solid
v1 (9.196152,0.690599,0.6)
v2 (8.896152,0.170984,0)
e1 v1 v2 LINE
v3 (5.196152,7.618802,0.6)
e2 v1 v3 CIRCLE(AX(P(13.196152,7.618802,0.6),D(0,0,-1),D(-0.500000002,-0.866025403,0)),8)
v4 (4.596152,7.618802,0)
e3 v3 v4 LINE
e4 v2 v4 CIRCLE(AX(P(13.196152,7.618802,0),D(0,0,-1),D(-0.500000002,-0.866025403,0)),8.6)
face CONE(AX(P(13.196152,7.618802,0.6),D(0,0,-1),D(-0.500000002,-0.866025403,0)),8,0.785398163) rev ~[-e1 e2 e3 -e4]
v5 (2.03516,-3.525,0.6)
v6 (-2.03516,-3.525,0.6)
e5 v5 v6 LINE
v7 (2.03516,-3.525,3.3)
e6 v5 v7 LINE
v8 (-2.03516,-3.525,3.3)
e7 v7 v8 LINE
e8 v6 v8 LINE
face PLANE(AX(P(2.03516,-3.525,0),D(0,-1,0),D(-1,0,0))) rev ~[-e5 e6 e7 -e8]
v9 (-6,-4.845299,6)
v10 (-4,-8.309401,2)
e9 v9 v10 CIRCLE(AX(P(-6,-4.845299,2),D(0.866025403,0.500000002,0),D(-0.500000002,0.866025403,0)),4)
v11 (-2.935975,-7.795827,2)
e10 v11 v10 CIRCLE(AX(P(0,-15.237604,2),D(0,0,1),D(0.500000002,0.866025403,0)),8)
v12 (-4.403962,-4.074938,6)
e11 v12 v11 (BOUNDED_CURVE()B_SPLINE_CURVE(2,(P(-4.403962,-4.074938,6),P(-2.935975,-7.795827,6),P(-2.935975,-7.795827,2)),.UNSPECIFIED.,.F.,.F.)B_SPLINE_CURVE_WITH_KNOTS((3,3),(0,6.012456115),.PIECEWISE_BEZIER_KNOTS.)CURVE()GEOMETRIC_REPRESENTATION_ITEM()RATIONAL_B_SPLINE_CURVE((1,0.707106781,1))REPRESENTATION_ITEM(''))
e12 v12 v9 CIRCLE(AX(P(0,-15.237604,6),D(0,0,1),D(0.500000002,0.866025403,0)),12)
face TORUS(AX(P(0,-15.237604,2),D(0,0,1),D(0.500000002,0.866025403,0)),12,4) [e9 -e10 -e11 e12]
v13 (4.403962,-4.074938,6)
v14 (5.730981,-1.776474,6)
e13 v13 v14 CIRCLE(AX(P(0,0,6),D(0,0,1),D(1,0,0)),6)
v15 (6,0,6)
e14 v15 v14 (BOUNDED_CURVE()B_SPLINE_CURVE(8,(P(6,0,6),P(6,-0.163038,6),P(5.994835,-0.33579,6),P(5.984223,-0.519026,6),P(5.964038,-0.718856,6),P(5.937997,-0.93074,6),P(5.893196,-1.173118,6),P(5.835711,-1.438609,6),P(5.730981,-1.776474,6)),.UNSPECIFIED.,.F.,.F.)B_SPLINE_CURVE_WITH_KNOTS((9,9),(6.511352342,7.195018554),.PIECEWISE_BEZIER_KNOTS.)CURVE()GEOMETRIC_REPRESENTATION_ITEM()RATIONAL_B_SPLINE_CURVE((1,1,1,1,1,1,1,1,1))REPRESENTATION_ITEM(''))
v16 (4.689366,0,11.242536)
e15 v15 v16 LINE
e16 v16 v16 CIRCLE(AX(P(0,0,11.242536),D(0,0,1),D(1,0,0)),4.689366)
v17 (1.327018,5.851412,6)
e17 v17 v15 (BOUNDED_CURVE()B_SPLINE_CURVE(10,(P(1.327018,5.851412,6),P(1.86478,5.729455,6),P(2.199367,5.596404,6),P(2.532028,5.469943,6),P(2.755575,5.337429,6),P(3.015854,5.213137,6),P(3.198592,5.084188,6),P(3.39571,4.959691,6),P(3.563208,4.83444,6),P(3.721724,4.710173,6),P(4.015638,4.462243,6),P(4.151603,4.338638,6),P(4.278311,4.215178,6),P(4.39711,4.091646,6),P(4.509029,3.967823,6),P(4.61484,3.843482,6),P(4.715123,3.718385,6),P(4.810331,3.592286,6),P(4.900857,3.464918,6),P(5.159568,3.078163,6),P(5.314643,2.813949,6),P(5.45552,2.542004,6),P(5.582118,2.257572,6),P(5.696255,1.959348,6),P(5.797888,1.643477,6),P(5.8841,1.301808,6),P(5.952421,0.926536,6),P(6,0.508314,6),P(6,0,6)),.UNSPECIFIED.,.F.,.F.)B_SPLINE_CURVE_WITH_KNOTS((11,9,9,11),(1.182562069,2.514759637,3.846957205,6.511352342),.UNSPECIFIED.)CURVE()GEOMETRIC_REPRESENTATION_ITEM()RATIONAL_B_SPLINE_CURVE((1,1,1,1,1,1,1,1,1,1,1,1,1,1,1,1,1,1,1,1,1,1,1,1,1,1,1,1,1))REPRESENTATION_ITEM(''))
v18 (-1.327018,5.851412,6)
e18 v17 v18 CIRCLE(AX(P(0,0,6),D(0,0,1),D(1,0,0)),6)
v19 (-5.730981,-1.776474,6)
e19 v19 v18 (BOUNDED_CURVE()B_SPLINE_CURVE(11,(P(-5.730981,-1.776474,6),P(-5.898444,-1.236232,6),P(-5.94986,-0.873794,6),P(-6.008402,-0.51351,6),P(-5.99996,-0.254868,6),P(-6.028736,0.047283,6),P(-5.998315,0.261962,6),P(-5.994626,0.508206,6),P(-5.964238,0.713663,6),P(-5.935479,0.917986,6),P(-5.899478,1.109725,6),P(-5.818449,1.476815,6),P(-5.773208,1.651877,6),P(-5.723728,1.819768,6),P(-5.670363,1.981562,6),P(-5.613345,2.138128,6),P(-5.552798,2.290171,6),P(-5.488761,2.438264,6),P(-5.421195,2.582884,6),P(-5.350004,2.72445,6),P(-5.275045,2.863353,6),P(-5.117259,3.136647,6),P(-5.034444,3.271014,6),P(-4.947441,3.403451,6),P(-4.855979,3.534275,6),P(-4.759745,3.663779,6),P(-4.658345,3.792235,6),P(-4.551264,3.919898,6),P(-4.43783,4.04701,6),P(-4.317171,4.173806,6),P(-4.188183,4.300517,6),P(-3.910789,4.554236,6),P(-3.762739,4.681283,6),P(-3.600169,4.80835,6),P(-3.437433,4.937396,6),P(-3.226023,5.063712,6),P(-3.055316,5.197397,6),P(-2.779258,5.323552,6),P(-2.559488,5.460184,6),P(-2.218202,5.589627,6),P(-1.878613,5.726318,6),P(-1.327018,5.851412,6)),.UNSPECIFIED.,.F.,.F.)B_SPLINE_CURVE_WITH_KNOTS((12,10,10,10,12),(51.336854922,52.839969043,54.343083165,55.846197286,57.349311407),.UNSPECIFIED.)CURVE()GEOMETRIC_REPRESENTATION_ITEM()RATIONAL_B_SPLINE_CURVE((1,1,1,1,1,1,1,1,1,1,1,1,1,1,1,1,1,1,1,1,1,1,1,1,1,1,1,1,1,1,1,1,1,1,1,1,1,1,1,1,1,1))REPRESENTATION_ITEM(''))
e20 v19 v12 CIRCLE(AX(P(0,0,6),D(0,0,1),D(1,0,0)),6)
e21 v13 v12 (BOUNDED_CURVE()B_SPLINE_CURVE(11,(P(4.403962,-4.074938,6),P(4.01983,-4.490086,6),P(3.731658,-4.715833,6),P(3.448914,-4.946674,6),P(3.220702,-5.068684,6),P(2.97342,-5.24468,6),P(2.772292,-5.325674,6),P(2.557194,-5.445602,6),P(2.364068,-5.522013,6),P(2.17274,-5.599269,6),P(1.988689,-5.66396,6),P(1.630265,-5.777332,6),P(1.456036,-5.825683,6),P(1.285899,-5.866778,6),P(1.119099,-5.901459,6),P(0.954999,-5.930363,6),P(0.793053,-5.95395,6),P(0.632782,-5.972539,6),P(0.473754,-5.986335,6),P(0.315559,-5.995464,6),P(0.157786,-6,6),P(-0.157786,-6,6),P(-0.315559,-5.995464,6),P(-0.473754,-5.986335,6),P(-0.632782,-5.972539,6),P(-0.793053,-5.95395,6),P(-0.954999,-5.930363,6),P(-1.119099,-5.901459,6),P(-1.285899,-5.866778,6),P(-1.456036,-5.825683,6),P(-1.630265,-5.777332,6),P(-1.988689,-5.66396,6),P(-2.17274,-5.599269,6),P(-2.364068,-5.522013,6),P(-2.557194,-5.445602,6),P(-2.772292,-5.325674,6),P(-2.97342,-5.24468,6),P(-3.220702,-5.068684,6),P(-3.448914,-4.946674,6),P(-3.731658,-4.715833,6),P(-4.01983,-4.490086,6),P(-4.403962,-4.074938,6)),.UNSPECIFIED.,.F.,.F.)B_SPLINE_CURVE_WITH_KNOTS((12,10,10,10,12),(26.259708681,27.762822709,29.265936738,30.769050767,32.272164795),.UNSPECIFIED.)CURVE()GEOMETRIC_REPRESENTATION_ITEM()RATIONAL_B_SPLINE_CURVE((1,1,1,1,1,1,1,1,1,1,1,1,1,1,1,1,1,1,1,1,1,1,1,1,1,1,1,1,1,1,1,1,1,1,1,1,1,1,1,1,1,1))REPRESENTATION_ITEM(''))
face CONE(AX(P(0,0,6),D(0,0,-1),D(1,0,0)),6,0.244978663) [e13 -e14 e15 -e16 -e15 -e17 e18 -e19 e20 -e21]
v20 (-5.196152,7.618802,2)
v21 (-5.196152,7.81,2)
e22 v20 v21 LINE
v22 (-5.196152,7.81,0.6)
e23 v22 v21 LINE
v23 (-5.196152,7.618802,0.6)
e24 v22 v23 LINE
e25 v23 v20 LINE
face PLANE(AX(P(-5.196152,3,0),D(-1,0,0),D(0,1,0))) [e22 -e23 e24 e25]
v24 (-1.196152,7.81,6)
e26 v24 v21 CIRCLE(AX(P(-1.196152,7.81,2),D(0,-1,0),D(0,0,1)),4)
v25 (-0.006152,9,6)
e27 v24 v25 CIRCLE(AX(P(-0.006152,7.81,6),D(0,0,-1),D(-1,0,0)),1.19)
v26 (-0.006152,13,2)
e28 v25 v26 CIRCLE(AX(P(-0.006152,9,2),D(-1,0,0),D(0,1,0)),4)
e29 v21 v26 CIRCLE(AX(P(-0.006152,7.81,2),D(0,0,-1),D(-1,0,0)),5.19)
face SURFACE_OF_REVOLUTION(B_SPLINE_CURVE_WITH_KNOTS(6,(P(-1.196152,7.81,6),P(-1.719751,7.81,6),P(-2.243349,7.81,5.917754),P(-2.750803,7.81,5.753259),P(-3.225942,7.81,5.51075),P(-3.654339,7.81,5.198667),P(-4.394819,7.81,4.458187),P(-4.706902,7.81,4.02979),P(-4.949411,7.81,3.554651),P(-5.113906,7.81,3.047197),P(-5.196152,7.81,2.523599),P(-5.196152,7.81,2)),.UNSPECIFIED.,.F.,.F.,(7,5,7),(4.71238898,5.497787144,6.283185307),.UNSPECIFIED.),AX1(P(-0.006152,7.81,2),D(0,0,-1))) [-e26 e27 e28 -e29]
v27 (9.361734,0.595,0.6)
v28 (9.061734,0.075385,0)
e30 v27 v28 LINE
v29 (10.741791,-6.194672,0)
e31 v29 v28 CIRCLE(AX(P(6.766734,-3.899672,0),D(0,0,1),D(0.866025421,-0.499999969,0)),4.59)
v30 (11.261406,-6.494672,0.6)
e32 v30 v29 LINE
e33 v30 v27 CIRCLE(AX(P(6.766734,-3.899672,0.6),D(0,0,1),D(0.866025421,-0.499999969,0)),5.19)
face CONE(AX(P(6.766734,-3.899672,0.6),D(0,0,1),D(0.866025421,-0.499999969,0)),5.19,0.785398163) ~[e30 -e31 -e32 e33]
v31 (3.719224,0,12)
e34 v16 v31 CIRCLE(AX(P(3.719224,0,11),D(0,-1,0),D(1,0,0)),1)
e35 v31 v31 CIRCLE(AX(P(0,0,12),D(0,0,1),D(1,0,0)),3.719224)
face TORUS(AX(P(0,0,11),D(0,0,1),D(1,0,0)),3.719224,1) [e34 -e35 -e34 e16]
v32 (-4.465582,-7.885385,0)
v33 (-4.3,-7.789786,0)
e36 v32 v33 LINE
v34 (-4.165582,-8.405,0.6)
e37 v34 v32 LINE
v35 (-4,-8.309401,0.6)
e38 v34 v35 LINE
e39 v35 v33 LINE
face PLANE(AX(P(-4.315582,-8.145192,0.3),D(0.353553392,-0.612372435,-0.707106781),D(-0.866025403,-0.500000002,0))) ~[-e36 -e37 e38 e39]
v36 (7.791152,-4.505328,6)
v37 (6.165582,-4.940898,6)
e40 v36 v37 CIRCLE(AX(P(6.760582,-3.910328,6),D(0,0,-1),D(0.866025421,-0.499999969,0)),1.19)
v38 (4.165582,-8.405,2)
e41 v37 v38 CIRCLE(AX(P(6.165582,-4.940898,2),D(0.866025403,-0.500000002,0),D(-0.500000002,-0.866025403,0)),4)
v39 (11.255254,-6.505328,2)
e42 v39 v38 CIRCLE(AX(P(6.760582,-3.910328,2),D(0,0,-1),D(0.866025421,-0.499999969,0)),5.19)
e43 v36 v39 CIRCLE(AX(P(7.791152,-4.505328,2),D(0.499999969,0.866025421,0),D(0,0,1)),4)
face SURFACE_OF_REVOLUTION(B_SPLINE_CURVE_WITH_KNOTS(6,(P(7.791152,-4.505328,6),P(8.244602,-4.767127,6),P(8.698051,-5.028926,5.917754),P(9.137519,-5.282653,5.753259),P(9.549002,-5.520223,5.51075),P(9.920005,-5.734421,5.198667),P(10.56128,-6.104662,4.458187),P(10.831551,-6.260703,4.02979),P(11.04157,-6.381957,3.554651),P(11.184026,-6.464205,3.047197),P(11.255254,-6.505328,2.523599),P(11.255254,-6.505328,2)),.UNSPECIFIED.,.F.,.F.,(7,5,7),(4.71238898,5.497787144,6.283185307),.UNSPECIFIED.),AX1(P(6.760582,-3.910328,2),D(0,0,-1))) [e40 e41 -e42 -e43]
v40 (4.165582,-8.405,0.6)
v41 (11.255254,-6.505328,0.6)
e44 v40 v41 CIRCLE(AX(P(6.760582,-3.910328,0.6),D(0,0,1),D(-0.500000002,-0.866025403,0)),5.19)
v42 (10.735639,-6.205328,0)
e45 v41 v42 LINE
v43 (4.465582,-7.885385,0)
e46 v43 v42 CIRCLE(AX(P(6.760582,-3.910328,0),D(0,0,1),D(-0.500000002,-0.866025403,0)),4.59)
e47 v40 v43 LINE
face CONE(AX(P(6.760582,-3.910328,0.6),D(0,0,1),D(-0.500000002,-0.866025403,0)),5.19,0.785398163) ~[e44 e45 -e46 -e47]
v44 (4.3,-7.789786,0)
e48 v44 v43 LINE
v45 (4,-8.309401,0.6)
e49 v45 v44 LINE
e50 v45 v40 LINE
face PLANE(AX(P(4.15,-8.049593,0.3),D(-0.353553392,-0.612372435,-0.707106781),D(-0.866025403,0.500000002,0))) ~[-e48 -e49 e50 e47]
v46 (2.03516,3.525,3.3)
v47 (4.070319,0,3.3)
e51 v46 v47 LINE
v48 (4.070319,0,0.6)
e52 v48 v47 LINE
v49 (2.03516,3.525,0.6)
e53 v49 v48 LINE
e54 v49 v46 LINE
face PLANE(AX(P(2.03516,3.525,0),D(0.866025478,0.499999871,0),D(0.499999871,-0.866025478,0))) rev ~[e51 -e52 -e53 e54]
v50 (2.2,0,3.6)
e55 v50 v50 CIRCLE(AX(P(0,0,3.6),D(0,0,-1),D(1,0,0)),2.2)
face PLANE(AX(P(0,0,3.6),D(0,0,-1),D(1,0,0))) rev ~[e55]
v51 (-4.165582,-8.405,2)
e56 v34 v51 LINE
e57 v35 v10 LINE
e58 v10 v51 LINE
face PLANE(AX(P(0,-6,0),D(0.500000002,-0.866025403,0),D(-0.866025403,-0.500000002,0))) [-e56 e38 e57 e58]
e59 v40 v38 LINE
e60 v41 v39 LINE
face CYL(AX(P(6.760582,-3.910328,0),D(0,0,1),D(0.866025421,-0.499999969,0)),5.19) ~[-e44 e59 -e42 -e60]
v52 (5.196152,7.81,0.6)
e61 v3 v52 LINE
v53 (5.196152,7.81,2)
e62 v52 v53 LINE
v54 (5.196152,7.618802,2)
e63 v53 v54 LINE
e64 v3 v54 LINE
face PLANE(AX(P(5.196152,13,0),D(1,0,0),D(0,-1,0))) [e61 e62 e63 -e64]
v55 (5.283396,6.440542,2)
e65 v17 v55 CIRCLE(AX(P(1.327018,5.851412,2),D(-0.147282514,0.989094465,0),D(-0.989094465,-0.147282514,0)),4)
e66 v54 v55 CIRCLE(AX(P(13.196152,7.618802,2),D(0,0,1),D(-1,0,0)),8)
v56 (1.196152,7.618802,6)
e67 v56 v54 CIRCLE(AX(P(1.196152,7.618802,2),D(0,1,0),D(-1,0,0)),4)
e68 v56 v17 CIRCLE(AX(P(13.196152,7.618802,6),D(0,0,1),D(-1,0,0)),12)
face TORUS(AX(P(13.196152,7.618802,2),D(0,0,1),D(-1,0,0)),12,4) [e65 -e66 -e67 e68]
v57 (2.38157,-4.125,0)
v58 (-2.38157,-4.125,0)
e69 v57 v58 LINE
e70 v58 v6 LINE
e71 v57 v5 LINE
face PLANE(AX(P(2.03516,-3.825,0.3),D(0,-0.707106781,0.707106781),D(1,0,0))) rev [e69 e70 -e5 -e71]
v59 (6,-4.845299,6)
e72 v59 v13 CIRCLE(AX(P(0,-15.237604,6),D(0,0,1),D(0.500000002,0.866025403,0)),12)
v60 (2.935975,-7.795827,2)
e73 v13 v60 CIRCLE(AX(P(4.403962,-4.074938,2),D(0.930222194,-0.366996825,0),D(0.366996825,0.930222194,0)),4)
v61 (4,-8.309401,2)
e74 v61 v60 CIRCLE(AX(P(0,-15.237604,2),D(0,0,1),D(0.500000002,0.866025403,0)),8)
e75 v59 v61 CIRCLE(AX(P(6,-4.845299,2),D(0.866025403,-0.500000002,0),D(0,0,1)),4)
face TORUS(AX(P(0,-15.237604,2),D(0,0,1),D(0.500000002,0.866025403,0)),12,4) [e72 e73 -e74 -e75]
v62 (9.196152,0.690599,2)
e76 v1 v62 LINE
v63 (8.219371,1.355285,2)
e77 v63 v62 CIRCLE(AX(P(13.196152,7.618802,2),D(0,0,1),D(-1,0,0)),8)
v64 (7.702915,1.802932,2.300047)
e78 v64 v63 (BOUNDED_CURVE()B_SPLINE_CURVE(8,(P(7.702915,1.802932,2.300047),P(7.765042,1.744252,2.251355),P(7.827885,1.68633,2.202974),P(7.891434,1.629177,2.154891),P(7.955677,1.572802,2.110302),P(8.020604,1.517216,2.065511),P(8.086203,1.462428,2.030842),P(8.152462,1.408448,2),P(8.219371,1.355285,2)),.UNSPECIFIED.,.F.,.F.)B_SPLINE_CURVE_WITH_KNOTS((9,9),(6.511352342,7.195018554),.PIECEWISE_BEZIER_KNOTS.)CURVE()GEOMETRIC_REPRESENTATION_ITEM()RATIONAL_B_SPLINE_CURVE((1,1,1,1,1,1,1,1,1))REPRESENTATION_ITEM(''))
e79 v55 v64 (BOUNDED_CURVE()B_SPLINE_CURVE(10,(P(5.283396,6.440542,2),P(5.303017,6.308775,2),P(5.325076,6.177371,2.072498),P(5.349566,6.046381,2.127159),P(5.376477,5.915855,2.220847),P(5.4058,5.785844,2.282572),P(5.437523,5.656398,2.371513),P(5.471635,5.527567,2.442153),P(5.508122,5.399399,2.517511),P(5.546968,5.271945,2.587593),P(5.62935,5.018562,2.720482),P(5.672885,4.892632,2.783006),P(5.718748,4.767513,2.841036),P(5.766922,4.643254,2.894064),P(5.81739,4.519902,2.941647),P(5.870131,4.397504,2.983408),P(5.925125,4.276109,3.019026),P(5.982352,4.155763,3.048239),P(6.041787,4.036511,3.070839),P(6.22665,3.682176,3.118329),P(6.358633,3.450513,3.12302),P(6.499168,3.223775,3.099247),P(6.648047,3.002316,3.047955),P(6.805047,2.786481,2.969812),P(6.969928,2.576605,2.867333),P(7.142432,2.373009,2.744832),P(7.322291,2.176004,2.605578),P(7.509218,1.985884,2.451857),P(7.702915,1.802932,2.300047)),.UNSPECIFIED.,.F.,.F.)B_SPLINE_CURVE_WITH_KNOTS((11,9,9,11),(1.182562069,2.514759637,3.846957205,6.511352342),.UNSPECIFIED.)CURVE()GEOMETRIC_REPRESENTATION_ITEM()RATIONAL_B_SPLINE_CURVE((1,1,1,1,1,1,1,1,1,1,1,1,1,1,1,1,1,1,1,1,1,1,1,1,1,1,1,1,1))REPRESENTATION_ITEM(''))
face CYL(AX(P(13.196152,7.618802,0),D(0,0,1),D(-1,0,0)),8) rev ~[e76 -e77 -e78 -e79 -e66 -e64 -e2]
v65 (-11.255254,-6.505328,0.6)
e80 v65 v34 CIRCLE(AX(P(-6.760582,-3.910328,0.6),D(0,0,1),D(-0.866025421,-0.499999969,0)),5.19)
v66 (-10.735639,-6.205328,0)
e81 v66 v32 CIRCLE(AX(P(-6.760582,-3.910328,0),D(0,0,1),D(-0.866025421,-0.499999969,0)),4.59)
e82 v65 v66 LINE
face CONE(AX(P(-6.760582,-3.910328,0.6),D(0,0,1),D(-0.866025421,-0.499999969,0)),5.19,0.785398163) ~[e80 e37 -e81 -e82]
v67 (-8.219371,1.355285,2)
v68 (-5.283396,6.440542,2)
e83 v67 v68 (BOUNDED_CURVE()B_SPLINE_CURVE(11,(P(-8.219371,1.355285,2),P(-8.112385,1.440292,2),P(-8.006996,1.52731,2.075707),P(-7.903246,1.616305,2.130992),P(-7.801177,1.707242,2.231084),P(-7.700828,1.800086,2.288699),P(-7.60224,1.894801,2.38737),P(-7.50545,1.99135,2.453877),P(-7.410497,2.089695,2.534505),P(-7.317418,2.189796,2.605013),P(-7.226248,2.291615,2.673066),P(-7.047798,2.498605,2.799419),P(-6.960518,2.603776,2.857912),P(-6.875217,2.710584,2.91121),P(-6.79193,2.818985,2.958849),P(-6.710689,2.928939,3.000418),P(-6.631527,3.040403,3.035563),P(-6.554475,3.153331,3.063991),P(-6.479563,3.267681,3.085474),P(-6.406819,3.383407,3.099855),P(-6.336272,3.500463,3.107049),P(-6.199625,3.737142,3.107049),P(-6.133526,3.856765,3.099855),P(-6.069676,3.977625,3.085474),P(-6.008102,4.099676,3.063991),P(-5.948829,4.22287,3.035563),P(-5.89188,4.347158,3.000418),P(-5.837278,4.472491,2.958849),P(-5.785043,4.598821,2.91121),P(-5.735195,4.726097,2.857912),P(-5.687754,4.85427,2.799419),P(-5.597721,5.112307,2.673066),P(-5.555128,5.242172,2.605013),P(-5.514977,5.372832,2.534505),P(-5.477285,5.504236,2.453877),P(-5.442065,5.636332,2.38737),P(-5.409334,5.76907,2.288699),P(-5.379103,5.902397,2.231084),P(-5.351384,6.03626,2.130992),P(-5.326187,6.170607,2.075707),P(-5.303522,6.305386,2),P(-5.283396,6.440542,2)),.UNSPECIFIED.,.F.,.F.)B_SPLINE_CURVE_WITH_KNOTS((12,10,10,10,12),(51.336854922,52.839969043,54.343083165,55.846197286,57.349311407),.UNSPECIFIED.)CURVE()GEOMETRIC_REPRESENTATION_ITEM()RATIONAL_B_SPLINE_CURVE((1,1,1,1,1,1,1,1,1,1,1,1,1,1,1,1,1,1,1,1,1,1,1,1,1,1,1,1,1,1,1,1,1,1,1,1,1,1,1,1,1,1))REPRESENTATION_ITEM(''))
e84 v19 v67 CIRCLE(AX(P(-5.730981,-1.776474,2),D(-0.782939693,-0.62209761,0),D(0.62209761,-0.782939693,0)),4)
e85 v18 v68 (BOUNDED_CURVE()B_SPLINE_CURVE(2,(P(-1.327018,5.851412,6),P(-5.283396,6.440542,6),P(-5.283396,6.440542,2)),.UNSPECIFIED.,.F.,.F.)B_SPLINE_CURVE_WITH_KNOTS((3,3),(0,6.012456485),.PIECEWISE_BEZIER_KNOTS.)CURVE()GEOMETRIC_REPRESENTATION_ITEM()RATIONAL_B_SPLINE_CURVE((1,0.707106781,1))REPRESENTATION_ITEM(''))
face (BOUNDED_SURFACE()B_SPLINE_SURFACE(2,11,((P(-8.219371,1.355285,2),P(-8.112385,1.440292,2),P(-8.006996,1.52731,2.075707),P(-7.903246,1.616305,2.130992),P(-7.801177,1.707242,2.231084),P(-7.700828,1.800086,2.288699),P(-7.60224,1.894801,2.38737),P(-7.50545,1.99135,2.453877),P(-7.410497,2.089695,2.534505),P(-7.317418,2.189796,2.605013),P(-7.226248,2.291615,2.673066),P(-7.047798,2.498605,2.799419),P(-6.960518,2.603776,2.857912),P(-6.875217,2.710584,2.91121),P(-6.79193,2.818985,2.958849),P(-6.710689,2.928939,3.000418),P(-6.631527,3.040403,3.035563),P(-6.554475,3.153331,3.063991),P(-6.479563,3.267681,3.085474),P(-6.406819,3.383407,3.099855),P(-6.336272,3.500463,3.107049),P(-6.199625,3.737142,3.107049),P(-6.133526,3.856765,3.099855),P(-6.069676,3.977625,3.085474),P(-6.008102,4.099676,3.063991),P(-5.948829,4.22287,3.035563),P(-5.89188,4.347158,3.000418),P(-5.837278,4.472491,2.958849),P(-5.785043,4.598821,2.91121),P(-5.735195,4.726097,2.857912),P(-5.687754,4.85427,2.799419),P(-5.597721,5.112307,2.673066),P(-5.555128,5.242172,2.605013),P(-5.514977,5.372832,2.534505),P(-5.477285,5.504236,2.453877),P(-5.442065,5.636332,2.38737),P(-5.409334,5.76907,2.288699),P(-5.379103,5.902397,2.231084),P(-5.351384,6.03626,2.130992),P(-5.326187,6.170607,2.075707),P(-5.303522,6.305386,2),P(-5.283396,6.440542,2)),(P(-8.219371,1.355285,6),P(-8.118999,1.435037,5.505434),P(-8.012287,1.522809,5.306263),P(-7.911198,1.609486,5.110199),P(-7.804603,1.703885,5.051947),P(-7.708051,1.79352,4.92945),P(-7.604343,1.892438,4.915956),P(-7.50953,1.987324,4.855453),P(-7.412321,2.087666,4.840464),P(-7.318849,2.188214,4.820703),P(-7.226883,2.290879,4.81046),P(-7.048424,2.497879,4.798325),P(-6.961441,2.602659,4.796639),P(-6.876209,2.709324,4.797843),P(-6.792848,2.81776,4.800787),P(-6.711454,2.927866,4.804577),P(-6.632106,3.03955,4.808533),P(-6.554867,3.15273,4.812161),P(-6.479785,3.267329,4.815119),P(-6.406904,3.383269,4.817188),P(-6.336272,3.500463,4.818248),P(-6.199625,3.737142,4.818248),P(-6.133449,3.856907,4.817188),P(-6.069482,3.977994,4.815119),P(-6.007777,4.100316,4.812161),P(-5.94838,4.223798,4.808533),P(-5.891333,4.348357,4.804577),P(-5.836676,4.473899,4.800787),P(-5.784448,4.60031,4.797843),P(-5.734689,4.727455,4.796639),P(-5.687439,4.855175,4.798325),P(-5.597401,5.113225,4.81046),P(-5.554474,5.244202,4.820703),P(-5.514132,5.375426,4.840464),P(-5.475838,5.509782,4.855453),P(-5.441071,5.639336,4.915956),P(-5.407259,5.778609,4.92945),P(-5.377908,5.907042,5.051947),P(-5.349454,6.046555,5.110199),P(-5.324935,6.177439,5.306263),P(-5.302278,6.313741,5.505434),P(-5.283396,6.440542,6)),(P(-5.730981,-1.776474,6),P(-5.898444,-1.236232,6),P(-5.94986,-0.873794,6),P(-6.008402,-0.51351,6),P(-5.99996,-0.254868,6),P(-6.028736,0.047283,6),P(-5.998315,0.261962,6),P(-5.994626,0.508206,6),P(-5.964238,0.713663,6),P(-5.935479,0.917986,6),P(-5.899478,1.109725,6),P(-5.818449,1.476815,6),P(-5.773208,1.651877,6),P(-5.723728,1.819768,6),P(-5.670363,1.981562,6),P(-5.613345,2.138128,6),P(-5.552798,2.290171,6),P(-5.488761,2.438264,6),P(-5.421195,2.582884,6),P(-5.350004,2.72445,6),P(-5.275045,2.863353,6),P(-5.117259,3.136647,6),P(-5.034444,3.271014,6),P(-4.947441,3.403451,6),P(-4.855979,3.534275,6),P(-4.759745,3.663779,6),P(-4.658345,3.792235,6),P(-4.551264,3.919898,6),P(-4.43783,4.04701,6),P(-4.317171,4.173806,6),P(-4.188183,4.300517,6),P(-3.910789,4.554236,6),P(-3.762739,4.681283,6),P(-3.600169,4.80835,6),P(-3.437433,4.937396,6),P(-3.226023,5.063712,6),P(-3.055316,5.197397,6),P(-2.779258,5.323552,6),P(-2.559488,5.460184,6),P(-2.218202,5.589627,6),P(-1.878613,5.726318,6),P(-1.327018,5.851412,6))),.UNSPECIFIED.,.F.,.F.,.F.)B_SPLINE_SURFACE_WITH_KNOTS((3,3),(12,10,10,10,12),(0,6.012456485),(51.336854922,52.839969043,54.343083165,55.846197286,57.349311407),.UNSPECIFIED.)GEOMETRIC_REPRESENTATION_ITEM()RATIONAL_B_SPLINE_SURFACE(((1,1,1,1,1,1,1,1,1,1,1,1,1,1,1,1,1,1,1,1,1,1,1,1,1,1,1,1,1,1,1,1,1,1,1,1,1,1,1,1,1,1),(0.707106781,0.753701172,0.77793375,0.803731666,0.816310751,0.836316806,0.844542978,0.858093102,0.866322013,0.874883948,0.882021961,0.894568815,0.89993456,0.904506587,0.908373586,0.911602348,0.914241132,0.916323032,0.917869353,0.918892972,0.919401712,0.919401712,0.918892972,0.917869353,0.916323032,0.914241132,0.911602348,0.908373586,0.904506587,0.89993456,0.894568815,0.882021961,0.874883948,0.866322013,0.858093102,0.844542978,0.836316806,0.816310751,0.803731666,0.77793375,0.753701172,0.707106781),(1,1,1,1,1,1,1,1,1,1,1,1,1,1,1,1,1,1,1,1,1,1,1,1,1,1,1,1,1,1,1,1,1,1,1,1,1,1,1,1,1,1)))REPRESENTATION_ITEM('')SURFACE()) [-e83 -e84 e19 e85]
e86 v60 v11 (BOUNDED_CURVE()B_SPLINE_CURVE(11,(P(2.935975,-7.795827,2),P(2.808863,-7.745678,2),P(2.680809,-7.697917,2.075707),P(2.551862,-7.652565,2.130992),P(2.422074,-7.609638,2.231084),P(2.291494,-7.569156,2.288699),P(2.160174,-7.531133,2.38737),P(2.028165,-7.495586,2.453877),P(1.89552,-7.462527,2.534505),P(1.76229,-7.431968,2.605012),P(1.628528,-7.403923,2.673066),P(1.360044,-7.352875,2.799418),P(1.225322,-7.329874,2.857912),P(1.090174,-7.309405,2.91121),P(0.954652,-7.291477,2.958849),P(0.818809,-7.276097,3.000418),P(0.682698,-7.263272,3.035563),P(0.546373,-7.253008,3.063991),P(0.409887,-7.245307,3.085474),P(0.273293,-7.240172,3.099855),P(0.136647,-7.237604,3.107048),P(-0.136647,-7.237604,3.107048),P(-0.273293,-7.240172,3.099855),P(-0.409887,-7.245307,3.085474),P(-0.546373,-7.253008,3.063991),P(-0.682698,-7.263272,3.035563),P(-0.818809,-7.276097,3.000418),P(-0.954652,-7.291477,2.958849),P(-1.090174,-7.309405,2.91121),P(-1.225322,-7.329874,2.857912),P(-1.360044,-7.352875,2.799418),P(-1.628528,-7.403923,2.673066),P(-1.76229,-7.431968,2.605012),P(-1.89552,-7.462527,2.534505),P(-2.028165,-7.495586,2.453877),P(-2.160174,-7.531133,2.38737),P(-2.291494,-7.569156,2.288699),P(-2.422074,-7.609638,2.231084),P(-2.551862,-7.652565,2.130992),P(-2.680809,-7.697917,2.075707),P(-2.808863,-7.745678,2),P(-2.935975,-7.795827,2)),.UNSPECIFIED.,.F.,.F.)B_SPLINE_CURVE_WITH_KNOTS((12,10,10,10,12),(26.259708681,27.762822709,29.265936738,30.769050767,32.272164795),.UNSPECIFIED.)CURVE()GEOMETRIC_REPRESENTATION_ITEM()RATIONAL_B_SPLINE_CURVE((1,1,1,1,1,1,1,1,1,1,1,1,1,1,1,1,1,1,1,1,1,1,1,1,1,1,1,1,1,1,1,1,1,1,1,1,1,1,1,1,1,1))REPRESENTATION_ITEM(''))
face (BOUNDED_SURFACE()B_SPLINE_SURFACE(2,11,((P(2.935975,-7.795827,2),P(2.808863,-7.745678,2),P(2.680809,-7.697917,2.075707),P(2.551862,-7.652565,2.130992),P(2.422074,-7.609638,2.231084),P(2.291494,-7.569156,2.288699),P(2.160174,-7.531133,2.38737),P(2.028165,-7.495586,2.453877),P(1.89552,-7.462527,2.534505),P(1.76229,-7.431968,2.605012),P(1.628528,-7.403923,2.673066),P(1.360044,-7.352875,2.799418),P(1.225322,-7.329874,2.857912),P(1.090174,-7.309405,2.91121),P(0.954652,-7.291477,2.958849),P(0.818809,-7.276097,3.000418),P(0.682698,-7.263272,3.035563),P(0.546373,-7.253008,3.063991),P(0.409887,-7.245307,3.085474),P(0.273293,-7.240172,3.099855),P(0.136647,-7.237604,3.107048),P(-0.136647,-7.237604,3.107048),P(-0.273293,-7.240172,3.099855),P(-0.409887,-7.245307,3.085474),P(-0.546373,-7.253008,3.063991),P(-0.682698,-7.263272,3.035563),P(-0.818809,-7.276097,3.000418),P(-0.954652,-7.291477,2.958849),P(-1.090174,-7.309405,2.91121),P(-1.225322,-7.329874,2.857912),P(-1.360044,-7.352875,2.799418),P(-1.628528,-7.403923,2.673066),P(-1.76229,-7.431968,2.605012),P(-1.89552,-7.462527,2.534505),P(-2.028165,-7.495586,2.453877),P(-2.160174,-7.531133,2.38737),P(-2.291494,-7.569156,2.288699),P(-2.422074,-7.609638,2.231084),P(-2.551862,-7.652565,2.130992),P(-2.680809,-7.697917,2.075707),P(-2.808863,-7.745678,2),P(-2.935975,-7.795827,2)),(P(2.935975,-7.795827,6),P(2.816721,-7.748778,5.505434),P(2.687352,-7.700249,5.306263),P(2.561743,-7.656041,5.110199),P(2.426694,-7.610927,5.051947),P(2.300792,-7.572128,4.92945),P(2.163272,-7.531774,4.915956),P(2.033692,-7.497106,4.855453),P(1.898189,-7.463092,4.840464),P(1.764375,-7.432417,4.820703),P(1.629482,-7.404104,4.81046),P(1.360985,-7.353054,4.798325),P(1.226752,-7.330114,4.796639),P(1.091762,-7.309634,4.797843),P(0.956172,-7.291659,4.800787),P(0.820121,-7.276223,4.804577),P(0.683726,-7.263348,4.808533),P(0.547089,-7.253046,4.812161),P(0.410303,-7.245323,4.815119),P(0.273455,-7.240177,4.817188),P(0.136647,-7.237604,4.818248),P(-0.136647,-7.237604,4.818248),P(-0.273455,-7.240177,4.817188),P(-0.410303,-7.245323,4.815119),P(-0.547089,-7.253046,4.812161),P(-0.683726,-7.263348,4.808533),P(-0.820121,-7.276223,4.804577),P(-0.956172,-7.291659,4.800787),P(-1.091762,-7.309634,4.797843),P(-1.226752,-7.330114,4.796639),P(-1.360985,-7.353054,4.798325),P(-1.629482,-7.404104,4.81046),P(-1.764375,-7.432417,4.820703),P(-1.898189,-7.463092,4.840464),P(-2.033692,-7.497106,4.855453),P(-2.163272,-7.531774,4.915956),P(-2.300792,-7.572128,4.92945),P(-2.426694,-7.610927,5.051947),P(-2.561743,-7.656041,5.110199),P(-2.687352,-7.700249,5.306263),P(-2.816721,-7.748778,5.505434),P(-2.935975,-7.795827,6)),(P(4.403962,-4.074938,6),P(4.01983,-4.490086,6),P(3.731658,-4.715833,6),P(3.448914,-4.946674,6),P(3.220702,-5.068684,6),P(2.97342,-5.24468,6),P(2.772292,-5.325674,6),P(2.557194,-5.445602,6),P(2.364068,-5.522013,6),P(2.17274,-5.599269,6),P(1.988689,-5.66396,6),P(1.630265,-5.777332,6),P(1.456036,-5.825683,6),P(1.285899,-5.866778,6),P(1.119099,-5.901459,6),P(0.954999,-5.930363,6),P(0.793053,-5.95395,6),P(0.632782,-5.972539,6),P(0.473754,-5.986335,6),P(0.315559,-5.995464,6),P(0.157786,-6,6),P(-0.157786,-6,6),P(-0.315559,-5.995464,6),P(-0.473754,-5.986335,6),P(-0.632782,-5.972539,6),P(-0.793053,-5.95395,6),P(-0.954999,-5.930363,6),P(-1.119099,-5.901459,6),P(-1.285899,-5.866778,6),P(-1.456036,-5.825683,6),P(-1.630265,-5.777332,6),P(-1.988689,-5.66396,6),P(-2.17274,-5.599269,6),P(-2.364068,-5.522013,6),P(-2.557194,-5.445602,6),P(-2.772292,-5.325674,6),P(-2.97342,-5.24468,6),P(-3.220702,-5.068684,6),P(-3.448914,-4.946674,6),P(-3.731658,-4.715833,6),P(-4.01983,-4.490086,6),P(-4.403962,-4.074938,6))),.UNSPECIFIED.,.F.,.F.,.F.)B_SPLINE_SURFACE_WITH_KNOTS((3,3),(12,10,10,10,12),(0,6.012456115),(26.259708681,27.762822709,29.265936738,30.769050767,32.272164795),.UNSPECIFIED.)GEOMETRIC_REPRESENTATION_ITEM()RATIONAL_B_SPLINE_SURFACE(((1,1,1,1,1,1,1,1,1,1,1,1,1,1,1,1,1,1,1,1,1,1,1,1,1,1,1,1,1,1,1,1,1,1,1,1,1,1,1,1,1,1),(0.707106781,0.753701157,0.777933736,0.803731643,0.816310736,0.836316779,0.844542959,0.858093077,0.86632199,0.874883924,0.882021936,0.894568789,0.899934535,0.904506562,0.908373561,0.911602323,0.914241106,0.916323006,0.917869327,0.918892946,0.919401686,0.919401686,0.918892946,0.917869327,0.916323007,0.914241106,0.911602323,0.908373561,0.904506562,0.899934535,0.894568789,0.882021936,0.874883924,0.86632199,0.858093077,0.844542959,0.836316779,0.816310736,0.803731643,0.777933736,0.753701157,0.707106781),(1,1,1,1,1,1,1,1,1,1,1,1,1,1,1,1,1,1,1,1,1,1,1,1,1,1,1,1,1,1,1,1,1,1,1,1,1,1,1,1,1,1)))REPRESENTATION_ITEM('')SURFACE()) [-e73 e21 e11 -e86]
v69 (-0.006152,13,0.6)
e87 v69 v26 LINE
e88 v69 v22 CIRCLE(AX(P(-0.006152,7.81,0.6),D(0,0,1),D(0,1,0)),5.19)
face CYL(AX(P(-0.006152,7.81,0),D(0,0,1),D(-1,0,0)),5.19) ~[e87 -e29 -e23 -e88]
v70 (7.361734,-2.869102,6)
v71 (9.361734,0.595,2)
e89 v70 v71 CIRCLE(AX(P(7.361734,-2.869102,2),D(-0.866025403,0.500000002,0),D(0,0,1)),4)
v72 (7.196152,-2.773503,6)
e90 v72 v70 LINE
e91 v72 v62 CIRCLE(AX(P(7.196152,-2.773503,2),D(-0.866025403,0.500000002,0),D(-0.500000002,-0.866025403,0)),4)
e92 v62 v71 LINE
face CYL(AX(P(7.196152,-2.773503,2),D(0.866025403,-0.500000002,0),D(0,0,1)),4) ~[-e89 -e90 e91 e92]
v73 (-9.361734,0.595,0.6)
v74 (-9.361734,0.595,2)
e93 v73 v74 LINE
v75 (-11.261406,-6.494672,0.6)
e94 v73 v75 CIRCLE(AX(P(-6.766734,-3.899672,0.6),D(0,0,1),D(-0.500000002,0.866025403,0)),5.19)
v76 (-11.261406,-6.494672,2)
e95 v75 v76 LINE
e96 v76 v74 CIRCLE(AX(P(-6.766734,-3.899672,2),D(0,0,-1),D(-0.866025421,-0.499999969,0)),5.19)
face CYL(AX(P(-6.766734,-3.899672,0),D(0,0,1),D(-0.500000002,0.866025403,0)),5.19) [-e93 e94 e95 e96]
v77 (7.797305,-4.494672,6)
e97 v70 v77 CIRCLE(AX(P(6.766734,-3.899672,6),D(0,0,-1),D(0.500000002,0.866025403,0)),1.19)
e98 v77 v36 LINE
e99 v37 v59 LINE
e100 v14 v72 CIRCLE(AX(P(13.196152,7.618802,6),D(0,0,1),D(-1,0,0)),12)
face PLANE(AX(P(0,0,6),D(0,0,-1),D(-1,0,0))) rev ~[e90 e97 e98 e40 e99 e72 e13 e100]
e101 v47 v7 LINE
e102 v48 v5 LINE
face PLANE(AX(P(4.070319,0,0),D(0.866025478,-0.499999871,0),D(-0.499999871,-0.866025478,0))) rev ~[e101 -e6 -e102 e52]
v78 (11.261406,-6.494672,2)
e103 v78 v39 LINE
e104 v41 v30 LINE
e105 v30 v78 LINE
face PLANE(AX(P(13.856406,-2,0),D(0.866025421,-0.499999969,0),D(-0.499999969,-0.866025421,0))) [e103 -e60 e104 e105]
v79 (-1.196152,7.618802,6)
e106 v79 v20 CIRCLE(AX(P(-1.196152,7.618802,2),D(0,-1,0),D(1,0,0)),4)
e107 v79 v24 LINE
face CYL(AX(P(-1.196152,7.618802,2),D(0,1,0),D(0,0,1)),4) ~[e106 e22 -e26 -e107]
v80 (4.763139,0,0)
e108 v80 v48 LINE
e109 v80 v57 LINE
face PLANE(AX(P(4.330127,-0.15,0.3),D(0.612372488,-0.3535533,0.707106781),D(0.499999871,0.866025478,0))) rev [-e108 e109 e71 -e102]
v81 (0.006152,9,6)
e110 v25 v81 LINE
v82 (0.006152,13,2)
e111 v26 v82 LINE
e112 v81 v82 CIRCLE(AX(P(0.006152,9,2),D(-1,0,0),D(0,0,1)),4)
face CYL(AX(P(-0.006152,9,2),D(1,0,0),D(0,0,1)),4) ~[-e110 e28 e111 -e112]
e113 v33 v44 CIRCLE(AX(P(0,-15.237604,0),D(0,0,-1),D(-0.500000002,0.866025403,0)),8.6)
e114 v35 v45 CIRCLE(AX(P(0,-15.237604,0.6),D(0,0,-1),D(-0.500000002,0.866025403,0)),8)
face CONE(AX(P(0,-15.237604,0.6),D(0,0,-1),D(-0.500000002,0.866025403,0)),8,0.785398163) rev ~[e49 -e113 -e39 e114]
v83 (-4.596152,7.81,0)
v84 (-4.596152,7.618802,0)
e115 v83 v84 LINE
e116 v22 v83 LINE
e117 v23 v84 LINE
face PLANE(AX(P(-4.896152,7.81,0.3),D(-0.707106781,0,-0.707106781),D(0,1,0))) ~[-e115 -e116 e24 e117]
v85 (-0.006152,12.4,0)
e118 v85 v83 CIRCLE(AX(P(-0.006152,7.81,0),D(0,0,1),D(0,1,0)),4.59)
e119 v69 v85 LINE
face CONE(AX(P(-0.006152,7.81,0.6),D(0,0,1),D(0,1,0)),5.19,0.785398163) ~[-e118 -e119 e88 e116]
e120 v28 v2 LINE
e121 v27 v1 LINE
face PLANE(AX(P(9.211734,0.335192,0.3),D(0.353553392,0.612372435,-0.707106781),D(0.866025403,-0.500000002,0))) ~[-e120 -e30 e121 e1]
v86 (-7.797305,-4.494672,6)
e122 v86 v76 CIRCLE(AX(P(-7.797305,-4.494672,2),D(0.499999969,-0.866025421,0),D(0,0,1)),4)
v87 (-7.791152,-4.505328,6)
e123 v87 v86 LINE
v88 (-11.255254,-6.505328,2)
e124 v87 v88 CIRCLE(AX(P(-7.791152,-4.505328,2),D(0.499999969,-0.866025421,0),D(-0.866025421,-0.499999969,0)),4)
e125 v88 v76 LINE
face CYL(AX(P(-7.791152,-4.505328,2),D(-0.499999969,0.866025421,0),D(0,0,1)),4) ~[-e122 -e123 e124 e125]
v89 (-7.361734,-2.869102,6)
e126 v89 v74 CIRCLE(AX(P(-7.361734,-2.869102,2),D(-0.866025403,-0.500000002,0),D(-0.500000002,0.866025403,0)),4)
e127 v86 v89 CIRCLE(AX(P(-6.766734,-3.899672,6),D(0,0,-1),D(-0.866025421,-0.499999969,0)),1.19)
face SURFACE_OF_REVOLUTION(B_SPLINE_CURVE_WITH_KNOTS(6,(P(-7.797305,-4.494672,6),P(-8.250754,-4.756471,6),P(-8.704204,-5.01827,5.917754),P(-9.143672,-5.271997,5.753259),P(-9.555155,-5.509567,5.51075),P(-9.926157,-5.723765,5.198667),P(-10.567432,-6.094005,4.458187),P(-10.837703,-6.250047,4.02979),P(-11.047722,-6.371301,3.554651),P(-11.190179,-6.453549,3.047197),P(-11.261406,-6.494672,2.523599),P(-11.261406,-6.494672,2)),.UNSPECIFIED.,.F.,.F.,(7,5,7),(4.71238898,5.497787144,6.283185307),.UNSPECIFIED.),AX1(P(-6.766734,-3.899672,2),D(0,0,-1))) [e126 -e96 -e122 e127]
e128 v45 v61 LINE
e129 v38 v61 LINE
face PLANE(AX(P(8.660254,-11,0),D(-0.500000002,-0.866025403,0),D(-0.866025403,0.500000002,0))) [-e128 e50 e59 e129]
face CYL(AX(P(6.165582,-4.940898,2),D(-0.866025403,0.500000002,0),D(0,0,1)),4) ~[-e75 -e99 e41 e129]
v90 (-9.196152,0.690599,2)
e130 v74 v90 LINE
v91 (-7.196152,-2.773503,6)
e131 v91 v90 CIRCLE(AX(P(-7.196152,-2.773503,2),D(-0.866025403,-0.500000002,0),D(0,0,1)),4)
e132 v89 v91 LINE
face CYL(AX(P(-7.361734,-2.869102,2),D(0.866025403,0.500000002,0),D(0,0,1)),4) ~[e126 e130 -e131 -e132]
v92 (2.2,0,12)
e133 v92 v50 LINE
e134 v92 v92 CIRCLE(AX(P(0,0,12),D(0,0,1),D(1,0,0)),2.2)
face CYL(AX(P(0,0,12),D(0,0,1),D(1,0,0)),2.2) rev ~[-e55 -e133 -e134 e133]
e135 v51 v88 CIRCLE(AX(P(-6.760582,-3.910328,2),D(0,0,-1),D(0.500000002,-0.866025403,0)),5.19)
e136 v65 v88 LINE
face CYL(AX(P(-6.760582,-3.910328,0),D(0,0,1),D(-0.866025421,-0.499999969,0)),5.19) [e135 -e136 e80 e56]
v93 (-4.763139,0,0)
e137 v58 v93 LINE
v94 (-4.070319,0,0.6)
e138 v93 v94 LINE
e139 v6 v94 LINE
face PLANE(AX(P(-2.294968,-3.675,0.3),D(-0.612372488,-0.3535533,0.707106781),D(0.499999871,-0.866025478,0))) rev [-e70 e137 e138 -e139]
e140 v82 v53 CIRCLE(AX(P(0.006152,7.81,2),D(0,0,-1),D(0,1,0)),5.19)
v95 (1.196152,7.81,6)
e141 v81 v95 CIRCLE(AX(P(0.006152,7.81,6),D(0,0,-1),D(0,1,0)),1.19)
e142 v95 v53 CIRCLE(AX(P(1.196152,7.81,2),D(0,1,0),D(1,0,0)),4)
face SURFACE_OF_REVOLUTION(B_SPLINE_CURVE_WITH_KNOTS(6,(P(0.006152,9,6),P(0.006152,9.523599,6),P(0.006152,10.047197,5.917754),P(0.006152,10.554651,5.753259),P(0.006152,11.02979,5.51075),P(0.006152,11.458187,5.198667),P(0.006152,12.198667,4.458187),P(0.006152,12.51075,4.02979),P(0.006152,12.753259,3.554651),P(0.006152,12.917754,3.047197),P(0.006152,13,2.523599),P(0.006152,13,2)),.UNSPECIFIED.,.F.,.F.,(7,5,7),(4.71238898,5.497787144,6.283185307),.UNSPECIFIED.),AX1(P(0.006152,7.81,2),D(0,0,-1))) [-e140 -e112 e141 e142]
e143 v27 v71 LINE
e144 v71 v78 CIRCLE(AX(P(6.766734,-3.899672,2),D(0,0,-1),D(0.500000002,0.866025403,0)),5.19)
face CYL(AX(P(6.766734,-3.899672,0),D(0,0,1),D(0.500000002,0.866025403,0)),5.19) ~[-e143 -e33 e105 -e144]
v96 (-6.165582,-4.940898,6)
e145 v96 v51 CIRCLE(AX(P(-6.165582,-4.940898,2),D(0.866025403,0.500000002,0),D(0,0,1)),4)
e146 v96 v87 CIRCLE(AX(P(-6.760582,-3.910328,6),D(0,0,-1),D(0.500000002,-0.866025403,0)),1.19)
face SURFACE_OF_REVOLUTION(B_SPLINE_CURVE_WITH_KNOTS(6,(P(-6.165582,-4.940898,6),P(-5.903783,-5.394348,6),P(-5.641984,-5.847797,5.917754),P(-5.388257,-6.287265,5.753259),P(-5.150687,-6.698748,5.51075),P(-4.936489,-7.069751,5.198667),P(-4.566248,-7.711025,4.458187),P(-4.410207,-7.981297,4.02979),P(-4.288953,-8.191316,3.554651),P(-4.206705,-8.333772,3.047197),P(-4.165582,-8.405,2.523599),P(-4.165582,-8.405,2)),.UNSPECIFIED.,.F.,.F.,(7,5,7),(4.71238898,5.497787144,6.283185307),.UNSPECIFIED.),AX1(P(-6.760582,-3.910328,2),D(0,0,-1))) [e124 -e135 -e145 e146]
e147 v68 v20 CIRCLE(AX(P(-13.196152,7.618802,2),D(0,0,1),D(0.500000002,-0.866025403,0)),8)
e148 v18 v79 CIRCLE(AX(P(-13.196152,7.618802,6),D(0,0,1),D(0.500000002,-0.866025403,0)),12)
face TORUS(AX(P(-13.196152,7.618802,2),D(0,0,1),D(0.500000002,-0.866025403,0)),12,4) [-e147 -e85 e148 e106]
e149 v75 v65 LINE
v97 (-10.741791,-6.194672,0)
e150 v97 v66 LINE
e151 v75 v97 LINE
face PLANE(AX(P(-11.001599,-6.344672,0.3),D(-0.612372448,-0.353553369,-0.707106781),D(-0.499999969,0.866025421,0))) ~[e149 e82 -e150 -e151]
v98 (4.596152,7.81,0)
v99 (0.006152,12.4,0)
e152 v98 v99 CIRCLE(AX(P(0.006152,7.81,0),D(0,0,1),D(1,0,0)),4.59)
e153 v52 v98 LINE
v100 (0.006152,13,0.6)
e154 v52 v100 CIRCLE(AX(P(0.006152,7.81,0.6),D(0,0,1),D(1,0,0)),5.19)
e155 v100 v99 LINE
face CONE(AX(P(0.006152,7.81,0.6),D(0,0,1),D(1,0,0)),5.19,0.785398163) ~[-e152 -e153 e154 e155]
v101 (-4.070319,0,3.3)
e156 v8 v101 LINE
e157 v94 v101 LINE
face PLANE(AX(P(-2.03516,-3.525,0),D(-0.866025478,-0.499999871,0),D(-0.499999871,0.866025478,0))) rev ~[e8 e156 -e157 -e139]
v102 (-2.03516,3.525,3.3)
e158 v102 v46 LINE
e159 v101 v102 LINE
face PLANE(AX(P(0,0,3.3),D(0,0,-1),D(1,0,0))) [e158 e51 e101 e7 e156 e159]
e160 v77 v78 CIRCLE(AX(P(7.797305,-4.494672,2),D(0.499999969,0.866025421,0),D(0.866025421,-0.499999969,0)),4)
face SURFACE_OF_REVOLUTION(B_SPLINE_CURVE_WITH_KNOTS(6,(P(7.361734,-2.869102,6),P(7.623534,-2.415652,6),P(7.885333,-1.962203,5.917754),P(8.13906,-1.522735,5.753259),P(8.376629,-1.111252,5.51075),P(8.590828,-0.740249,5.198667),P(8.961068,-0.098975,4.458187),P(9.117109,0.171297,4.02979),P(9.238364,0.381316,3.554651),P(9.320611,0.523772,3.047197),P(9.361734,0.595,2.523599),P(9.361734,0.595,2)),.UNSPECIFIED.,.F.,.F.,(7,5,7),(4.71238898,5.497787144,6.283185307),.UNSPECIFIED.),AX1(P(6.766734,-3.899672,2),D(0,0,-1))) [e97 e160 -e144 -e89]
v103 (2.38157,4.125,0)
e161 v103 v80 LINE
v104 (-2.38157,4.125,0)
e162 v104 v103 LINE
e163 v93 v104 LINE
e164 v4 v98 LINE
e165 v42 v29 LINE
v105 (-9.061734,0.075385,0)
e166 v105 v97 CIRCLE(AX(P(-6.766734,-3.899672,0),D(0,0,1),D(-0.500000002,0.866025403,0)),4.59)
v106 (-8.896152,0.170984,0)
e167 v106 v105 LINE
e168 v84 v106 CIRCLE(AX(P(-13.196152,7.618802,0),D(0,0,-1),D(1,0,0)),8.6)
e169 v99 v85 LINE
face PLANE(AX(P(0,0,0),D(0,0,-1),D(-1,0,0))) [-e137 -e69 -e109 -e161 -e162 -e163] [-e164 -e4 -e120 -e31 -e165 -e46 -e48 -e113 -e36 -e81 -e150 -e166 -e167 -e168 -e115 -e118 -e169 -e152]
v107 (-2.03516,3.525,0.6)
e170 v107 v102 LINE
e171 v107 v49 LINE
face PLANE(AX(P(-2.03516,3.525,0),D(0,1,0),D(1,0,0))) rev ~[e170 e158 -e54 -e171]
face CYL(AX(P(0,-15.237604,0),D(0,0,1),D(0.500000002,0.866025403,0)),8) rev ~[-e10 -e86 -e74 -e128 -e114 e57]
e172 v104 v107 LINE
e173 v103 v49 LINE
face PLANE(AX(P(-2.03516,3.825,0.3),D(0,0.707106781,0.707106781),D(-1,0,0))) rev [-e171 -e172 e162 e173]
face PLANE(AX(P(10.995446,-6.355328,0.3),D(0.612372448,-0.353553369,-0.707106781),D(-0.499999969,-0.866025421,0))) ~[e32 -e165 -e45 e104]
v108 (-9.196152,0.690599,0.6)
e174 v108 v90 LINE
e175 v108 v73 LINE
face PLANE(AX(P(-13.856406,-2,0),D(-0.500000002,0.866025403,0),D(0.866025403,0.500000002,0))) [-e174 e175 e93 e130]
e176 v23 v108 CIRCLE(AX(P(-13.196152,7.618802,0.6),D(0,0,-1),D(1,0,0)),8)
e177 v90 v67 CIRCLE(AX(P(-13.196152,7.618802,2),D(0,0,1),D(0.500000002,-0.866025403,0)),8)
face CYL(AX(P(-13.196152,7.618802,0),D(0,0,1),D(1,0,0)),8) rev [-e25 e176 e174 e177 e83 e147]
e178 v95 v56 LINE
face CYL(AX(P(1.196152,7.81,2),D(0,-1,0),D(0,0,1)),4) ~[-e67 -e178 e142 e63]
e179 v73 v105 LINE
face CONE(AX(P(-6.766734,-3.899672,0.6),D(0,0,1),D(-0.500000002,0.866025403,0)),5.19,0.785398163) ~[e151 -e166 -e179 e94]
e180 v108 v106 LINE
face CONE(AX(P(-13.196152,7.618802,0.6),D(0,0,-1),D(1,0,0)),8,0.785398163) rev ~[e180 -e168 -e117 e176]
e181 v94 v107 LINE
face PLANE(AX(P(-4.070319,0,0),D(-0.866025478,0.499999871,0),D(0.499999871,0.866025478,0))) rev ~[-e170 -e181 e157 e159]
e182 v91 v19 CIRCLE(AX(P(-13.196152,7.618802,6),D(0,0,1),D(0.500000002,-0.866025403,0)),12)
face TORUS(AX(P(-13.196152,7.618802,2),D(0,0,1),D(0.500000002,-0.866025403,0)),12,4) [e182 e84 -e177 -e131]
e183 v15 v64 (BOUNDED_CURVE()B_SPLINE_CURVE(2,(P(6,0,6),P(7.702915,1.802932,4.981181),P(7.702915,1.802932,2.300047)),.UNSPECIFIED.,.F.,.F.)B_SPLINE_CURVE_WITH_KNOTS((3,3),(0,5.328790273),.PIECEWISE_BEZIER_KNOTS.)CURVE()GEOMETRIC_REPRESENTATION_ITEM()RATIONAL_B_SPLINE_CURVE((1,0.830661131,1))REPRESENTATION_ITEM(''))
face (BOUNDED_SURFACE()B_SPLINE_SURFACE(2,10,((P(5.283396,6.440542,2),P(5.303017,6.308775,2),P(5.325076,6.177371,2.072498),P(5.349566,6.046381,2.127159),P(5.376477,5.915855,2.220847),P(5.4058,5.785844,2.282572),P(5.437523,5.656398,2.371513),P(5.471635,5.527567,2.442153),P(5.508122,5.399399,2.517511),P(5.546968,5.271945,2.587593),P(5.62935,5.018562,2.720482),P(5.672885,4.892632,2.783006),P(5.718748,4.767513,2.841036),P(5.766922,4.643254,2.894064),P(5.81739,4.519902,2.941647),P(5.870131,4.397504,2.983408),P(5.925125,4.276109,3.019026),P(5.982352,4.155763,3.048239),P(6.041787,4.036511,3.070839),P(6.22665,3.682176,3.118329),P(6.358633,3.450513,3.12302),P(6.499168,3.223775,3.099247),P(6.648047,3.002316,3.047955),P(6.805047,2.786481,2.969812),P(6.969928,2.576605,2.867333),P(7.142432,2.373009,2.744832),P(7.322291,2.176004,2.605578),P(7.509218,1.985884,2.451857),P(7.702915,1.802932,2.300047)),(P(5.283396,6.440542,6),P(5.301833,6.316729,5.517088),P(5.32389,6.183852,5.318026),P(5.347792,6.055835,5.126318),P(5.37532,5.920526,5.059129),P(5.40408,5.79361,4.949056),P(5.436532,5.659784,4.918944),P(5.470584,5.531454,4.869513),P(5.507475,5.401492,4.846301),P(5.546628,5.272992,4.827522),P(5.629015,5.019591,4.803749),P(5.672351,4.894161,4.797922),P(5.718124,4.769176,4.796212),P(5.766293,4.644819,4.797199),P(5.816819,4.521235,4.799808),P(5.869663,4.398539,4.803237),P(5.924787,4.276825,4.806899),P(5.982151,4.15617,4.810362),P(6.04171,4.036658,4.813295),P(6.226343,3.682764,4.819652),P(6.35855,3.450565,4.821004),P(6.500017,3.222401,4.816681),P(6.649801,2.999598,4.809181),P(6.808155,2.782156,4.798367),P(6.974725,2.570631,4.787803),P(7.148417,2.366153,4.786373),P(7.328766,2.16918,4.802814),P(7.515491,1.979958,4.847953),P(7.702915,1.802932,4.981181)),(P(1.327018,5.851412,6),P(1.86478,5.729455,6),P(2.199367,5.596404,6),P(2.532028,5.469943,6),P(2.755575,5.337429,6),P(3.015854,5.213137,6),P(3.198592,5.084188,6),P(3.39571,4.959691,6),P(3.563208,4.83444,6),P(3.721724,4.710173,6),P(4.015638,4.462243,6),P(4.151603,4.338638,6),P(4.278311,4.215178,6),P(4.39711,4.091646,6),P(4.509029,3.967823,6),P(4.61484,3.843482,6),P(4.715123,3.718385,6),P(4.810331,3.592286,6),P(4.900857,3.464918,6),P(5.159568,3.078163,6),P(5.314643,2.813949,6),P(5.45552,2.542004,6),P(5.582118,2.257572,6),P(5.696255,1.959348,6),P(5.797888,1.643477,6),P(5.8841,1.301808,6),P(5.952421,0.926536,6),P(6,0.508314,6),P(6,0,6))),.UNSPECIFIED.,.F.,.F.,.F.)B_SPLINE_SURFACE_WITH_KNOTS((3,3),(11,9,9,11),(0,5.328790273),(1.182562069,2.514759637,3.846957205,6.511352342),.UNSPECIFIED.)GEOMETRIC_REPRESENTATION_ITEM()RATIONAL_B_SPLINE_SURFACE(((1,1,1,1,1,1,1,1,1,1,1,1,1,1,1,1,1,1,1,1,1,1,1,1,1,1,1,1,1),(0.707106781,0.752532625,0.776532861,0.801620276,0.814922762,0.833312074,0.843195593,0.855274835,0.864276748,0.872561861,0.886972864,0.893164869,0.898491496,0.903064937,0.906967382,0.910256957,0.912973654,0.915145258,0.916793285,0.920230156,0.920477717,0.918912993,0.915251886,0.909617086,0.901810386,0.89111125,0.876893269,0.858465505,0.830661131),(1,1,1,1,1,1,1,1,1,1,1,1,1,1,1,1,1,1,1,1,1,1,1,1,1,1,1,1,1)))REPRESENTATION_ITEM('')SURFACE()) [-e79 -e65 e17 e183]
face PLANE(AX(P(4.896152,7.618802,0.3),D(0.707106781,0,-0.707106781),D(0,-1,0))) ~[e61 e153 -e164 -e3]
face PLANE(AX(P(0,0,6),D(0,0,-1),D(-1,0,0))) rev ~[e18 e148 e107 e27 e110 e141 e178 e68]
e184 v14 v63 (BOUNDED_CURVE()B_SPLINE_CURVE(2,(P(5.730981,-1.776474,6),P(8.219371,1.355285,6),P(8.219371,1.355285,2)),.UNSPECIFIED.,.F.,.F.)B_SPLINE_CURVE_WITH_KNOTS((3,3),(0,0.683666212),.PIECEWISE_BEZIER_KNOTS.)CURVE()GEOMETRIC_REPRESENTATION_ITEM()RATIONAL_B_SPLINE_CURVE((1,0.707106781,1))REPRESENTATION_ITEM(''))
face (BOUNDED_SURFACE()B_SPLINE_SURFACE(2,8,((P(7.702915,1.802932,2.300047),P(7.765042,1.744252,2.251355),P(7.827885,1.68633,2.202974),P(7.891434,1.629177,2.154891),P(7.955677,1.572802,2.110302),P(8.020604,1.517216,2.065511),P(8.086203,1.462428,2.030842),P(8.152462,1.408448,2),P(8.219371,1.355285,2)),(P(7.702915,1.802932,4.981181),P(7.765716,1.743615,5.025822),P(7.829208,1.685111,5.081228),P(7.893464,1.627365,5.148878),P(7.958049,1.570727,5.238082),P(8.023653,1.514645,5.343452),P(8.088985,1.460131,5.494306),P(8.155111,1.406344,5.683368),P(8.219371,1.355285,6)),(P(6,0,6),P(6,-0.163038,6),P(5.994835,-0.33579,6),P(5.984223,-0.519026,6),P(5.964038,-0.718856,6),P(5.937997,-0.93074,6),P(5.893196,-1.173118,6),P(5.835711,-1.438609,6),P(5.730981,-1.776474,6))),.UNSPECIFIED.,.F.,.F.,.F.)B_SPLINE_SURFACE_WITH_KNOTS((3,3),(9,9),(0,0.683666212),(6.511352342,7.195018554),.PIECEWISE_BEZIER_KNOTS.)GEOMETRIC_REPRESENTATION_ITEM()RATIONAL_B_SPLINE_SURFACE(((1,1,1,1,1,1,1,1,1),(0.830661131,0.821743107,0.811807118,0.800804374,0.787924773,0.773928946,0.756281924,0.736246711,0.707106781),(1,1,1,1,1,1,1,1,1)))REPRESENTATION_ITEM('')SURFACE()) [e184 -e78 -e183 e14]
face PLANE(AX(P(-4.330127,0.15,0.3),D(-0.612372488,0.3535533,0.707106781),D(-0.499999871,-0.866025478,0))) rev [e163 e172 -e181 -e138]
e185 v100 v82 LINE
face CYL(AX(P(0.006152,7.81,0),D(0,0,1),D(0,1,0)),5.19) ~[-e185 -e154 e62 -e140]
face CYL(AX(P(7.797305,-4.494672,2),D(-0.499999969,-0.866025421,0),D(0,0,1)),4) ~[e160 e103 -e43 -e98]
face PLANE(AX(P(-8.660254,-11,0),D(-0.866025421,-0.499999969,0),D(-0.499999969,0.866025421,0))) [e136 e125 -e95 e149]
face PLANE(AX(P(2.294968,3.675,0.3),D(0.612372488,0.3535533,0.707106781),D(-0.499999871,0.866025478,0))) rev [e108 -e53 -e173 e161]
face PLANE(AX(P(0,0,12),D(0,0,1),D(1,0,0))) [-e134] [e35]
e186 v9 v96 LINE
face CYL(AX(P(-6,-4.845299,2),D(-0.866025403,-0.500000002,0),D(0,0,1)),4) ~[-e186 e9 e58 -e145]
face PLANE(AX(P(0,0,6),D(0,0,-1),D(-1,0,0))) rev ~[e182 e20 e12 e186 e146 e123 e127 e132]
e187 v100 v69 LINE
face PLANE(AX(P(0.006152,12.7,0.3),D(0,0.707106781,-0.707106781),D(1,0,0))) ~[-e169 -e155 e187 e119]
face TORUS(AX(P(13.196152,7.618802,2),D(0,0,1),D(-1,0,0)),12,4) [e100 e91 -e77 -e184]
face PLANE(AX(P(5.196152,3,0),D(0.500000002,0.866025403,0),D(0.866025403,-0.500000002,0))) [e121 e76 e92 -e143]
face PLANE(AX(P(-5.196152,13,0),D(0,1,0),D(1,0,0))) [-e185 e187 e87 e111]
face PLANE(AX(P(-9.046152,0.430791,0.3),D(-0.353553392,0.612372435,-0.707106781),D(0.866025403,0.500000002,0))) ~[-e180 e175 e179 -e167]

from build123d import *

# Parameters (mm, degrees)
PAD_DEPTH       = 6
FILLET_R        = 8
FILLET001_R     = 5.19
FILLET002_R     = 4
SKETCH002_R     = 2.2
POCKET_DEPTH    = 12.001
POCKET001_DEPTH = 3.3
SKETCH005_R     = 2.2
PAD001_DEPTH    = 0.3
FILLET003_R     = 1
CHAMFER_SIZE    = 0.6
CHAMFER001_SIZE = 0.6


with BuildPart() as revolution:
    # Sketch004 → Revolution (revolve)
    with BuildSketch(Plane.XZ):
        Polygon((4.5, 12), (0, 12), (0, 6), (6, 6), align=None)
    revolve(axis=Axis((0, 0, 0), (0, 0, 1)))


with BuildPart() as chamfer001:
    # Sketch → Pad (new body)
    with BuildSketch(Plane.XY):
        Polygon((-5.196152, 3), (-5.196152, 13), (5.196152, 13), (5.196152, 3), (13.856406, -2), (8.660254, -11), (0, -6), (-8.660254, -11), (-13.856406, -2), align=None)
    extrude(amount=PAD_DEPTH)

    # Fillet
    fillet_edges = [chamfer001.edges().sort_by_distance(p)[0] for p in [
        (-5.196152, 3, 3),
        (5.196152, 3, 3),
        (0, -6, 3),
    ]]
    fillet(fillet_edges, radius=FILLET_R)

    # Fusion: union Revolution
    add(revolution.part)

    # Fillet001
    fillet001_edges = [chamfer001.edges().sort_by_distance(p)[0] for p in [
        (-8.660254, -11, 3),
        (-13.856406, -2, 3),
        (-5.196152, 13, 3),
        (5.196152, 13, 3),
        (13.856406, -2, 3),
        (8.660254, -11, 3),
    ]]
    fillet(fillet001_edges, radius=FILLET001_R)

    # Fillet002
    fillet002_edges = [chamfer001.edges().sort_by_distance(p)[0] for p in [
        (6.267949, 3.618802, 6),
    ]]
    fillet(fillet002_edges, radius=FILLET002_R)

    # Sketch002 → Pocket (cut, through all)
    with BuildSketch(Plane.XY.offset(12)):
        Circle(SKETCH002_R)
    extrude(amount=-POCKET_DEPTH, mode=Mode.SUBTRACT)

    # Sketch003 → Pocket001 (cut)
    with BuildSketch(Plane(origin=(0, 0, 0), x_dir=(1, 0, 0), z_dir=(0, 0, -1))):
        Polygon((4.070319, 0), (2.03516, 3.525), (-2.03516, 3.525), (-4.070319, 0), (-2.03516, -3.525), (2.03516, -3.525), align=None)
    extrude(amount=-POCKET001_DEPTH, mode=Mode.SUBTRACT)

    # Sketch005 → Pad001 (new body)
    with BuildSketch(Plane(origin=(0, 0, 3.3), x_dir=(1, 0, 0), z_dir=(0, 0, -1))):
        Circle(SKETCH005_R)
    extrude(amount=-PAD001_DEPTH)

    # Fillet003
    fillet003_edges = [chamfer001.edges().sort_by_distance(p)[0] for p in [
        (-4.5, 0, 12),
    ]]
    fillet(fillet003_edges, radius=FILLET003_R)

    # Chamfer
    chamfer_edges = [chamfer001.edges().sort_by_distance(p)[0] for p in [
        (-6.267949, 3.618802, 0),
    ]]
    chamfer(chamfer_edges, length=CHAMFER_SIZE)

    # Chamfer001
    chamfer001_edges = [chamfer001.edges().sort_by_distance(p)[0] for p in [
        (3.05274, 1.7625, 0),
        (0, 3.525, 0),
        (-3.05274, 1.7625, 0),
        (-3.05274, -1.7625, 0),
        (0, -3.525, 0),
        (3.05274, -1.7625, 0),
    ]]
    chamfer(chamfer001_edges, length=CHAMFER001_SIZE)


solid = chamfer001.part
